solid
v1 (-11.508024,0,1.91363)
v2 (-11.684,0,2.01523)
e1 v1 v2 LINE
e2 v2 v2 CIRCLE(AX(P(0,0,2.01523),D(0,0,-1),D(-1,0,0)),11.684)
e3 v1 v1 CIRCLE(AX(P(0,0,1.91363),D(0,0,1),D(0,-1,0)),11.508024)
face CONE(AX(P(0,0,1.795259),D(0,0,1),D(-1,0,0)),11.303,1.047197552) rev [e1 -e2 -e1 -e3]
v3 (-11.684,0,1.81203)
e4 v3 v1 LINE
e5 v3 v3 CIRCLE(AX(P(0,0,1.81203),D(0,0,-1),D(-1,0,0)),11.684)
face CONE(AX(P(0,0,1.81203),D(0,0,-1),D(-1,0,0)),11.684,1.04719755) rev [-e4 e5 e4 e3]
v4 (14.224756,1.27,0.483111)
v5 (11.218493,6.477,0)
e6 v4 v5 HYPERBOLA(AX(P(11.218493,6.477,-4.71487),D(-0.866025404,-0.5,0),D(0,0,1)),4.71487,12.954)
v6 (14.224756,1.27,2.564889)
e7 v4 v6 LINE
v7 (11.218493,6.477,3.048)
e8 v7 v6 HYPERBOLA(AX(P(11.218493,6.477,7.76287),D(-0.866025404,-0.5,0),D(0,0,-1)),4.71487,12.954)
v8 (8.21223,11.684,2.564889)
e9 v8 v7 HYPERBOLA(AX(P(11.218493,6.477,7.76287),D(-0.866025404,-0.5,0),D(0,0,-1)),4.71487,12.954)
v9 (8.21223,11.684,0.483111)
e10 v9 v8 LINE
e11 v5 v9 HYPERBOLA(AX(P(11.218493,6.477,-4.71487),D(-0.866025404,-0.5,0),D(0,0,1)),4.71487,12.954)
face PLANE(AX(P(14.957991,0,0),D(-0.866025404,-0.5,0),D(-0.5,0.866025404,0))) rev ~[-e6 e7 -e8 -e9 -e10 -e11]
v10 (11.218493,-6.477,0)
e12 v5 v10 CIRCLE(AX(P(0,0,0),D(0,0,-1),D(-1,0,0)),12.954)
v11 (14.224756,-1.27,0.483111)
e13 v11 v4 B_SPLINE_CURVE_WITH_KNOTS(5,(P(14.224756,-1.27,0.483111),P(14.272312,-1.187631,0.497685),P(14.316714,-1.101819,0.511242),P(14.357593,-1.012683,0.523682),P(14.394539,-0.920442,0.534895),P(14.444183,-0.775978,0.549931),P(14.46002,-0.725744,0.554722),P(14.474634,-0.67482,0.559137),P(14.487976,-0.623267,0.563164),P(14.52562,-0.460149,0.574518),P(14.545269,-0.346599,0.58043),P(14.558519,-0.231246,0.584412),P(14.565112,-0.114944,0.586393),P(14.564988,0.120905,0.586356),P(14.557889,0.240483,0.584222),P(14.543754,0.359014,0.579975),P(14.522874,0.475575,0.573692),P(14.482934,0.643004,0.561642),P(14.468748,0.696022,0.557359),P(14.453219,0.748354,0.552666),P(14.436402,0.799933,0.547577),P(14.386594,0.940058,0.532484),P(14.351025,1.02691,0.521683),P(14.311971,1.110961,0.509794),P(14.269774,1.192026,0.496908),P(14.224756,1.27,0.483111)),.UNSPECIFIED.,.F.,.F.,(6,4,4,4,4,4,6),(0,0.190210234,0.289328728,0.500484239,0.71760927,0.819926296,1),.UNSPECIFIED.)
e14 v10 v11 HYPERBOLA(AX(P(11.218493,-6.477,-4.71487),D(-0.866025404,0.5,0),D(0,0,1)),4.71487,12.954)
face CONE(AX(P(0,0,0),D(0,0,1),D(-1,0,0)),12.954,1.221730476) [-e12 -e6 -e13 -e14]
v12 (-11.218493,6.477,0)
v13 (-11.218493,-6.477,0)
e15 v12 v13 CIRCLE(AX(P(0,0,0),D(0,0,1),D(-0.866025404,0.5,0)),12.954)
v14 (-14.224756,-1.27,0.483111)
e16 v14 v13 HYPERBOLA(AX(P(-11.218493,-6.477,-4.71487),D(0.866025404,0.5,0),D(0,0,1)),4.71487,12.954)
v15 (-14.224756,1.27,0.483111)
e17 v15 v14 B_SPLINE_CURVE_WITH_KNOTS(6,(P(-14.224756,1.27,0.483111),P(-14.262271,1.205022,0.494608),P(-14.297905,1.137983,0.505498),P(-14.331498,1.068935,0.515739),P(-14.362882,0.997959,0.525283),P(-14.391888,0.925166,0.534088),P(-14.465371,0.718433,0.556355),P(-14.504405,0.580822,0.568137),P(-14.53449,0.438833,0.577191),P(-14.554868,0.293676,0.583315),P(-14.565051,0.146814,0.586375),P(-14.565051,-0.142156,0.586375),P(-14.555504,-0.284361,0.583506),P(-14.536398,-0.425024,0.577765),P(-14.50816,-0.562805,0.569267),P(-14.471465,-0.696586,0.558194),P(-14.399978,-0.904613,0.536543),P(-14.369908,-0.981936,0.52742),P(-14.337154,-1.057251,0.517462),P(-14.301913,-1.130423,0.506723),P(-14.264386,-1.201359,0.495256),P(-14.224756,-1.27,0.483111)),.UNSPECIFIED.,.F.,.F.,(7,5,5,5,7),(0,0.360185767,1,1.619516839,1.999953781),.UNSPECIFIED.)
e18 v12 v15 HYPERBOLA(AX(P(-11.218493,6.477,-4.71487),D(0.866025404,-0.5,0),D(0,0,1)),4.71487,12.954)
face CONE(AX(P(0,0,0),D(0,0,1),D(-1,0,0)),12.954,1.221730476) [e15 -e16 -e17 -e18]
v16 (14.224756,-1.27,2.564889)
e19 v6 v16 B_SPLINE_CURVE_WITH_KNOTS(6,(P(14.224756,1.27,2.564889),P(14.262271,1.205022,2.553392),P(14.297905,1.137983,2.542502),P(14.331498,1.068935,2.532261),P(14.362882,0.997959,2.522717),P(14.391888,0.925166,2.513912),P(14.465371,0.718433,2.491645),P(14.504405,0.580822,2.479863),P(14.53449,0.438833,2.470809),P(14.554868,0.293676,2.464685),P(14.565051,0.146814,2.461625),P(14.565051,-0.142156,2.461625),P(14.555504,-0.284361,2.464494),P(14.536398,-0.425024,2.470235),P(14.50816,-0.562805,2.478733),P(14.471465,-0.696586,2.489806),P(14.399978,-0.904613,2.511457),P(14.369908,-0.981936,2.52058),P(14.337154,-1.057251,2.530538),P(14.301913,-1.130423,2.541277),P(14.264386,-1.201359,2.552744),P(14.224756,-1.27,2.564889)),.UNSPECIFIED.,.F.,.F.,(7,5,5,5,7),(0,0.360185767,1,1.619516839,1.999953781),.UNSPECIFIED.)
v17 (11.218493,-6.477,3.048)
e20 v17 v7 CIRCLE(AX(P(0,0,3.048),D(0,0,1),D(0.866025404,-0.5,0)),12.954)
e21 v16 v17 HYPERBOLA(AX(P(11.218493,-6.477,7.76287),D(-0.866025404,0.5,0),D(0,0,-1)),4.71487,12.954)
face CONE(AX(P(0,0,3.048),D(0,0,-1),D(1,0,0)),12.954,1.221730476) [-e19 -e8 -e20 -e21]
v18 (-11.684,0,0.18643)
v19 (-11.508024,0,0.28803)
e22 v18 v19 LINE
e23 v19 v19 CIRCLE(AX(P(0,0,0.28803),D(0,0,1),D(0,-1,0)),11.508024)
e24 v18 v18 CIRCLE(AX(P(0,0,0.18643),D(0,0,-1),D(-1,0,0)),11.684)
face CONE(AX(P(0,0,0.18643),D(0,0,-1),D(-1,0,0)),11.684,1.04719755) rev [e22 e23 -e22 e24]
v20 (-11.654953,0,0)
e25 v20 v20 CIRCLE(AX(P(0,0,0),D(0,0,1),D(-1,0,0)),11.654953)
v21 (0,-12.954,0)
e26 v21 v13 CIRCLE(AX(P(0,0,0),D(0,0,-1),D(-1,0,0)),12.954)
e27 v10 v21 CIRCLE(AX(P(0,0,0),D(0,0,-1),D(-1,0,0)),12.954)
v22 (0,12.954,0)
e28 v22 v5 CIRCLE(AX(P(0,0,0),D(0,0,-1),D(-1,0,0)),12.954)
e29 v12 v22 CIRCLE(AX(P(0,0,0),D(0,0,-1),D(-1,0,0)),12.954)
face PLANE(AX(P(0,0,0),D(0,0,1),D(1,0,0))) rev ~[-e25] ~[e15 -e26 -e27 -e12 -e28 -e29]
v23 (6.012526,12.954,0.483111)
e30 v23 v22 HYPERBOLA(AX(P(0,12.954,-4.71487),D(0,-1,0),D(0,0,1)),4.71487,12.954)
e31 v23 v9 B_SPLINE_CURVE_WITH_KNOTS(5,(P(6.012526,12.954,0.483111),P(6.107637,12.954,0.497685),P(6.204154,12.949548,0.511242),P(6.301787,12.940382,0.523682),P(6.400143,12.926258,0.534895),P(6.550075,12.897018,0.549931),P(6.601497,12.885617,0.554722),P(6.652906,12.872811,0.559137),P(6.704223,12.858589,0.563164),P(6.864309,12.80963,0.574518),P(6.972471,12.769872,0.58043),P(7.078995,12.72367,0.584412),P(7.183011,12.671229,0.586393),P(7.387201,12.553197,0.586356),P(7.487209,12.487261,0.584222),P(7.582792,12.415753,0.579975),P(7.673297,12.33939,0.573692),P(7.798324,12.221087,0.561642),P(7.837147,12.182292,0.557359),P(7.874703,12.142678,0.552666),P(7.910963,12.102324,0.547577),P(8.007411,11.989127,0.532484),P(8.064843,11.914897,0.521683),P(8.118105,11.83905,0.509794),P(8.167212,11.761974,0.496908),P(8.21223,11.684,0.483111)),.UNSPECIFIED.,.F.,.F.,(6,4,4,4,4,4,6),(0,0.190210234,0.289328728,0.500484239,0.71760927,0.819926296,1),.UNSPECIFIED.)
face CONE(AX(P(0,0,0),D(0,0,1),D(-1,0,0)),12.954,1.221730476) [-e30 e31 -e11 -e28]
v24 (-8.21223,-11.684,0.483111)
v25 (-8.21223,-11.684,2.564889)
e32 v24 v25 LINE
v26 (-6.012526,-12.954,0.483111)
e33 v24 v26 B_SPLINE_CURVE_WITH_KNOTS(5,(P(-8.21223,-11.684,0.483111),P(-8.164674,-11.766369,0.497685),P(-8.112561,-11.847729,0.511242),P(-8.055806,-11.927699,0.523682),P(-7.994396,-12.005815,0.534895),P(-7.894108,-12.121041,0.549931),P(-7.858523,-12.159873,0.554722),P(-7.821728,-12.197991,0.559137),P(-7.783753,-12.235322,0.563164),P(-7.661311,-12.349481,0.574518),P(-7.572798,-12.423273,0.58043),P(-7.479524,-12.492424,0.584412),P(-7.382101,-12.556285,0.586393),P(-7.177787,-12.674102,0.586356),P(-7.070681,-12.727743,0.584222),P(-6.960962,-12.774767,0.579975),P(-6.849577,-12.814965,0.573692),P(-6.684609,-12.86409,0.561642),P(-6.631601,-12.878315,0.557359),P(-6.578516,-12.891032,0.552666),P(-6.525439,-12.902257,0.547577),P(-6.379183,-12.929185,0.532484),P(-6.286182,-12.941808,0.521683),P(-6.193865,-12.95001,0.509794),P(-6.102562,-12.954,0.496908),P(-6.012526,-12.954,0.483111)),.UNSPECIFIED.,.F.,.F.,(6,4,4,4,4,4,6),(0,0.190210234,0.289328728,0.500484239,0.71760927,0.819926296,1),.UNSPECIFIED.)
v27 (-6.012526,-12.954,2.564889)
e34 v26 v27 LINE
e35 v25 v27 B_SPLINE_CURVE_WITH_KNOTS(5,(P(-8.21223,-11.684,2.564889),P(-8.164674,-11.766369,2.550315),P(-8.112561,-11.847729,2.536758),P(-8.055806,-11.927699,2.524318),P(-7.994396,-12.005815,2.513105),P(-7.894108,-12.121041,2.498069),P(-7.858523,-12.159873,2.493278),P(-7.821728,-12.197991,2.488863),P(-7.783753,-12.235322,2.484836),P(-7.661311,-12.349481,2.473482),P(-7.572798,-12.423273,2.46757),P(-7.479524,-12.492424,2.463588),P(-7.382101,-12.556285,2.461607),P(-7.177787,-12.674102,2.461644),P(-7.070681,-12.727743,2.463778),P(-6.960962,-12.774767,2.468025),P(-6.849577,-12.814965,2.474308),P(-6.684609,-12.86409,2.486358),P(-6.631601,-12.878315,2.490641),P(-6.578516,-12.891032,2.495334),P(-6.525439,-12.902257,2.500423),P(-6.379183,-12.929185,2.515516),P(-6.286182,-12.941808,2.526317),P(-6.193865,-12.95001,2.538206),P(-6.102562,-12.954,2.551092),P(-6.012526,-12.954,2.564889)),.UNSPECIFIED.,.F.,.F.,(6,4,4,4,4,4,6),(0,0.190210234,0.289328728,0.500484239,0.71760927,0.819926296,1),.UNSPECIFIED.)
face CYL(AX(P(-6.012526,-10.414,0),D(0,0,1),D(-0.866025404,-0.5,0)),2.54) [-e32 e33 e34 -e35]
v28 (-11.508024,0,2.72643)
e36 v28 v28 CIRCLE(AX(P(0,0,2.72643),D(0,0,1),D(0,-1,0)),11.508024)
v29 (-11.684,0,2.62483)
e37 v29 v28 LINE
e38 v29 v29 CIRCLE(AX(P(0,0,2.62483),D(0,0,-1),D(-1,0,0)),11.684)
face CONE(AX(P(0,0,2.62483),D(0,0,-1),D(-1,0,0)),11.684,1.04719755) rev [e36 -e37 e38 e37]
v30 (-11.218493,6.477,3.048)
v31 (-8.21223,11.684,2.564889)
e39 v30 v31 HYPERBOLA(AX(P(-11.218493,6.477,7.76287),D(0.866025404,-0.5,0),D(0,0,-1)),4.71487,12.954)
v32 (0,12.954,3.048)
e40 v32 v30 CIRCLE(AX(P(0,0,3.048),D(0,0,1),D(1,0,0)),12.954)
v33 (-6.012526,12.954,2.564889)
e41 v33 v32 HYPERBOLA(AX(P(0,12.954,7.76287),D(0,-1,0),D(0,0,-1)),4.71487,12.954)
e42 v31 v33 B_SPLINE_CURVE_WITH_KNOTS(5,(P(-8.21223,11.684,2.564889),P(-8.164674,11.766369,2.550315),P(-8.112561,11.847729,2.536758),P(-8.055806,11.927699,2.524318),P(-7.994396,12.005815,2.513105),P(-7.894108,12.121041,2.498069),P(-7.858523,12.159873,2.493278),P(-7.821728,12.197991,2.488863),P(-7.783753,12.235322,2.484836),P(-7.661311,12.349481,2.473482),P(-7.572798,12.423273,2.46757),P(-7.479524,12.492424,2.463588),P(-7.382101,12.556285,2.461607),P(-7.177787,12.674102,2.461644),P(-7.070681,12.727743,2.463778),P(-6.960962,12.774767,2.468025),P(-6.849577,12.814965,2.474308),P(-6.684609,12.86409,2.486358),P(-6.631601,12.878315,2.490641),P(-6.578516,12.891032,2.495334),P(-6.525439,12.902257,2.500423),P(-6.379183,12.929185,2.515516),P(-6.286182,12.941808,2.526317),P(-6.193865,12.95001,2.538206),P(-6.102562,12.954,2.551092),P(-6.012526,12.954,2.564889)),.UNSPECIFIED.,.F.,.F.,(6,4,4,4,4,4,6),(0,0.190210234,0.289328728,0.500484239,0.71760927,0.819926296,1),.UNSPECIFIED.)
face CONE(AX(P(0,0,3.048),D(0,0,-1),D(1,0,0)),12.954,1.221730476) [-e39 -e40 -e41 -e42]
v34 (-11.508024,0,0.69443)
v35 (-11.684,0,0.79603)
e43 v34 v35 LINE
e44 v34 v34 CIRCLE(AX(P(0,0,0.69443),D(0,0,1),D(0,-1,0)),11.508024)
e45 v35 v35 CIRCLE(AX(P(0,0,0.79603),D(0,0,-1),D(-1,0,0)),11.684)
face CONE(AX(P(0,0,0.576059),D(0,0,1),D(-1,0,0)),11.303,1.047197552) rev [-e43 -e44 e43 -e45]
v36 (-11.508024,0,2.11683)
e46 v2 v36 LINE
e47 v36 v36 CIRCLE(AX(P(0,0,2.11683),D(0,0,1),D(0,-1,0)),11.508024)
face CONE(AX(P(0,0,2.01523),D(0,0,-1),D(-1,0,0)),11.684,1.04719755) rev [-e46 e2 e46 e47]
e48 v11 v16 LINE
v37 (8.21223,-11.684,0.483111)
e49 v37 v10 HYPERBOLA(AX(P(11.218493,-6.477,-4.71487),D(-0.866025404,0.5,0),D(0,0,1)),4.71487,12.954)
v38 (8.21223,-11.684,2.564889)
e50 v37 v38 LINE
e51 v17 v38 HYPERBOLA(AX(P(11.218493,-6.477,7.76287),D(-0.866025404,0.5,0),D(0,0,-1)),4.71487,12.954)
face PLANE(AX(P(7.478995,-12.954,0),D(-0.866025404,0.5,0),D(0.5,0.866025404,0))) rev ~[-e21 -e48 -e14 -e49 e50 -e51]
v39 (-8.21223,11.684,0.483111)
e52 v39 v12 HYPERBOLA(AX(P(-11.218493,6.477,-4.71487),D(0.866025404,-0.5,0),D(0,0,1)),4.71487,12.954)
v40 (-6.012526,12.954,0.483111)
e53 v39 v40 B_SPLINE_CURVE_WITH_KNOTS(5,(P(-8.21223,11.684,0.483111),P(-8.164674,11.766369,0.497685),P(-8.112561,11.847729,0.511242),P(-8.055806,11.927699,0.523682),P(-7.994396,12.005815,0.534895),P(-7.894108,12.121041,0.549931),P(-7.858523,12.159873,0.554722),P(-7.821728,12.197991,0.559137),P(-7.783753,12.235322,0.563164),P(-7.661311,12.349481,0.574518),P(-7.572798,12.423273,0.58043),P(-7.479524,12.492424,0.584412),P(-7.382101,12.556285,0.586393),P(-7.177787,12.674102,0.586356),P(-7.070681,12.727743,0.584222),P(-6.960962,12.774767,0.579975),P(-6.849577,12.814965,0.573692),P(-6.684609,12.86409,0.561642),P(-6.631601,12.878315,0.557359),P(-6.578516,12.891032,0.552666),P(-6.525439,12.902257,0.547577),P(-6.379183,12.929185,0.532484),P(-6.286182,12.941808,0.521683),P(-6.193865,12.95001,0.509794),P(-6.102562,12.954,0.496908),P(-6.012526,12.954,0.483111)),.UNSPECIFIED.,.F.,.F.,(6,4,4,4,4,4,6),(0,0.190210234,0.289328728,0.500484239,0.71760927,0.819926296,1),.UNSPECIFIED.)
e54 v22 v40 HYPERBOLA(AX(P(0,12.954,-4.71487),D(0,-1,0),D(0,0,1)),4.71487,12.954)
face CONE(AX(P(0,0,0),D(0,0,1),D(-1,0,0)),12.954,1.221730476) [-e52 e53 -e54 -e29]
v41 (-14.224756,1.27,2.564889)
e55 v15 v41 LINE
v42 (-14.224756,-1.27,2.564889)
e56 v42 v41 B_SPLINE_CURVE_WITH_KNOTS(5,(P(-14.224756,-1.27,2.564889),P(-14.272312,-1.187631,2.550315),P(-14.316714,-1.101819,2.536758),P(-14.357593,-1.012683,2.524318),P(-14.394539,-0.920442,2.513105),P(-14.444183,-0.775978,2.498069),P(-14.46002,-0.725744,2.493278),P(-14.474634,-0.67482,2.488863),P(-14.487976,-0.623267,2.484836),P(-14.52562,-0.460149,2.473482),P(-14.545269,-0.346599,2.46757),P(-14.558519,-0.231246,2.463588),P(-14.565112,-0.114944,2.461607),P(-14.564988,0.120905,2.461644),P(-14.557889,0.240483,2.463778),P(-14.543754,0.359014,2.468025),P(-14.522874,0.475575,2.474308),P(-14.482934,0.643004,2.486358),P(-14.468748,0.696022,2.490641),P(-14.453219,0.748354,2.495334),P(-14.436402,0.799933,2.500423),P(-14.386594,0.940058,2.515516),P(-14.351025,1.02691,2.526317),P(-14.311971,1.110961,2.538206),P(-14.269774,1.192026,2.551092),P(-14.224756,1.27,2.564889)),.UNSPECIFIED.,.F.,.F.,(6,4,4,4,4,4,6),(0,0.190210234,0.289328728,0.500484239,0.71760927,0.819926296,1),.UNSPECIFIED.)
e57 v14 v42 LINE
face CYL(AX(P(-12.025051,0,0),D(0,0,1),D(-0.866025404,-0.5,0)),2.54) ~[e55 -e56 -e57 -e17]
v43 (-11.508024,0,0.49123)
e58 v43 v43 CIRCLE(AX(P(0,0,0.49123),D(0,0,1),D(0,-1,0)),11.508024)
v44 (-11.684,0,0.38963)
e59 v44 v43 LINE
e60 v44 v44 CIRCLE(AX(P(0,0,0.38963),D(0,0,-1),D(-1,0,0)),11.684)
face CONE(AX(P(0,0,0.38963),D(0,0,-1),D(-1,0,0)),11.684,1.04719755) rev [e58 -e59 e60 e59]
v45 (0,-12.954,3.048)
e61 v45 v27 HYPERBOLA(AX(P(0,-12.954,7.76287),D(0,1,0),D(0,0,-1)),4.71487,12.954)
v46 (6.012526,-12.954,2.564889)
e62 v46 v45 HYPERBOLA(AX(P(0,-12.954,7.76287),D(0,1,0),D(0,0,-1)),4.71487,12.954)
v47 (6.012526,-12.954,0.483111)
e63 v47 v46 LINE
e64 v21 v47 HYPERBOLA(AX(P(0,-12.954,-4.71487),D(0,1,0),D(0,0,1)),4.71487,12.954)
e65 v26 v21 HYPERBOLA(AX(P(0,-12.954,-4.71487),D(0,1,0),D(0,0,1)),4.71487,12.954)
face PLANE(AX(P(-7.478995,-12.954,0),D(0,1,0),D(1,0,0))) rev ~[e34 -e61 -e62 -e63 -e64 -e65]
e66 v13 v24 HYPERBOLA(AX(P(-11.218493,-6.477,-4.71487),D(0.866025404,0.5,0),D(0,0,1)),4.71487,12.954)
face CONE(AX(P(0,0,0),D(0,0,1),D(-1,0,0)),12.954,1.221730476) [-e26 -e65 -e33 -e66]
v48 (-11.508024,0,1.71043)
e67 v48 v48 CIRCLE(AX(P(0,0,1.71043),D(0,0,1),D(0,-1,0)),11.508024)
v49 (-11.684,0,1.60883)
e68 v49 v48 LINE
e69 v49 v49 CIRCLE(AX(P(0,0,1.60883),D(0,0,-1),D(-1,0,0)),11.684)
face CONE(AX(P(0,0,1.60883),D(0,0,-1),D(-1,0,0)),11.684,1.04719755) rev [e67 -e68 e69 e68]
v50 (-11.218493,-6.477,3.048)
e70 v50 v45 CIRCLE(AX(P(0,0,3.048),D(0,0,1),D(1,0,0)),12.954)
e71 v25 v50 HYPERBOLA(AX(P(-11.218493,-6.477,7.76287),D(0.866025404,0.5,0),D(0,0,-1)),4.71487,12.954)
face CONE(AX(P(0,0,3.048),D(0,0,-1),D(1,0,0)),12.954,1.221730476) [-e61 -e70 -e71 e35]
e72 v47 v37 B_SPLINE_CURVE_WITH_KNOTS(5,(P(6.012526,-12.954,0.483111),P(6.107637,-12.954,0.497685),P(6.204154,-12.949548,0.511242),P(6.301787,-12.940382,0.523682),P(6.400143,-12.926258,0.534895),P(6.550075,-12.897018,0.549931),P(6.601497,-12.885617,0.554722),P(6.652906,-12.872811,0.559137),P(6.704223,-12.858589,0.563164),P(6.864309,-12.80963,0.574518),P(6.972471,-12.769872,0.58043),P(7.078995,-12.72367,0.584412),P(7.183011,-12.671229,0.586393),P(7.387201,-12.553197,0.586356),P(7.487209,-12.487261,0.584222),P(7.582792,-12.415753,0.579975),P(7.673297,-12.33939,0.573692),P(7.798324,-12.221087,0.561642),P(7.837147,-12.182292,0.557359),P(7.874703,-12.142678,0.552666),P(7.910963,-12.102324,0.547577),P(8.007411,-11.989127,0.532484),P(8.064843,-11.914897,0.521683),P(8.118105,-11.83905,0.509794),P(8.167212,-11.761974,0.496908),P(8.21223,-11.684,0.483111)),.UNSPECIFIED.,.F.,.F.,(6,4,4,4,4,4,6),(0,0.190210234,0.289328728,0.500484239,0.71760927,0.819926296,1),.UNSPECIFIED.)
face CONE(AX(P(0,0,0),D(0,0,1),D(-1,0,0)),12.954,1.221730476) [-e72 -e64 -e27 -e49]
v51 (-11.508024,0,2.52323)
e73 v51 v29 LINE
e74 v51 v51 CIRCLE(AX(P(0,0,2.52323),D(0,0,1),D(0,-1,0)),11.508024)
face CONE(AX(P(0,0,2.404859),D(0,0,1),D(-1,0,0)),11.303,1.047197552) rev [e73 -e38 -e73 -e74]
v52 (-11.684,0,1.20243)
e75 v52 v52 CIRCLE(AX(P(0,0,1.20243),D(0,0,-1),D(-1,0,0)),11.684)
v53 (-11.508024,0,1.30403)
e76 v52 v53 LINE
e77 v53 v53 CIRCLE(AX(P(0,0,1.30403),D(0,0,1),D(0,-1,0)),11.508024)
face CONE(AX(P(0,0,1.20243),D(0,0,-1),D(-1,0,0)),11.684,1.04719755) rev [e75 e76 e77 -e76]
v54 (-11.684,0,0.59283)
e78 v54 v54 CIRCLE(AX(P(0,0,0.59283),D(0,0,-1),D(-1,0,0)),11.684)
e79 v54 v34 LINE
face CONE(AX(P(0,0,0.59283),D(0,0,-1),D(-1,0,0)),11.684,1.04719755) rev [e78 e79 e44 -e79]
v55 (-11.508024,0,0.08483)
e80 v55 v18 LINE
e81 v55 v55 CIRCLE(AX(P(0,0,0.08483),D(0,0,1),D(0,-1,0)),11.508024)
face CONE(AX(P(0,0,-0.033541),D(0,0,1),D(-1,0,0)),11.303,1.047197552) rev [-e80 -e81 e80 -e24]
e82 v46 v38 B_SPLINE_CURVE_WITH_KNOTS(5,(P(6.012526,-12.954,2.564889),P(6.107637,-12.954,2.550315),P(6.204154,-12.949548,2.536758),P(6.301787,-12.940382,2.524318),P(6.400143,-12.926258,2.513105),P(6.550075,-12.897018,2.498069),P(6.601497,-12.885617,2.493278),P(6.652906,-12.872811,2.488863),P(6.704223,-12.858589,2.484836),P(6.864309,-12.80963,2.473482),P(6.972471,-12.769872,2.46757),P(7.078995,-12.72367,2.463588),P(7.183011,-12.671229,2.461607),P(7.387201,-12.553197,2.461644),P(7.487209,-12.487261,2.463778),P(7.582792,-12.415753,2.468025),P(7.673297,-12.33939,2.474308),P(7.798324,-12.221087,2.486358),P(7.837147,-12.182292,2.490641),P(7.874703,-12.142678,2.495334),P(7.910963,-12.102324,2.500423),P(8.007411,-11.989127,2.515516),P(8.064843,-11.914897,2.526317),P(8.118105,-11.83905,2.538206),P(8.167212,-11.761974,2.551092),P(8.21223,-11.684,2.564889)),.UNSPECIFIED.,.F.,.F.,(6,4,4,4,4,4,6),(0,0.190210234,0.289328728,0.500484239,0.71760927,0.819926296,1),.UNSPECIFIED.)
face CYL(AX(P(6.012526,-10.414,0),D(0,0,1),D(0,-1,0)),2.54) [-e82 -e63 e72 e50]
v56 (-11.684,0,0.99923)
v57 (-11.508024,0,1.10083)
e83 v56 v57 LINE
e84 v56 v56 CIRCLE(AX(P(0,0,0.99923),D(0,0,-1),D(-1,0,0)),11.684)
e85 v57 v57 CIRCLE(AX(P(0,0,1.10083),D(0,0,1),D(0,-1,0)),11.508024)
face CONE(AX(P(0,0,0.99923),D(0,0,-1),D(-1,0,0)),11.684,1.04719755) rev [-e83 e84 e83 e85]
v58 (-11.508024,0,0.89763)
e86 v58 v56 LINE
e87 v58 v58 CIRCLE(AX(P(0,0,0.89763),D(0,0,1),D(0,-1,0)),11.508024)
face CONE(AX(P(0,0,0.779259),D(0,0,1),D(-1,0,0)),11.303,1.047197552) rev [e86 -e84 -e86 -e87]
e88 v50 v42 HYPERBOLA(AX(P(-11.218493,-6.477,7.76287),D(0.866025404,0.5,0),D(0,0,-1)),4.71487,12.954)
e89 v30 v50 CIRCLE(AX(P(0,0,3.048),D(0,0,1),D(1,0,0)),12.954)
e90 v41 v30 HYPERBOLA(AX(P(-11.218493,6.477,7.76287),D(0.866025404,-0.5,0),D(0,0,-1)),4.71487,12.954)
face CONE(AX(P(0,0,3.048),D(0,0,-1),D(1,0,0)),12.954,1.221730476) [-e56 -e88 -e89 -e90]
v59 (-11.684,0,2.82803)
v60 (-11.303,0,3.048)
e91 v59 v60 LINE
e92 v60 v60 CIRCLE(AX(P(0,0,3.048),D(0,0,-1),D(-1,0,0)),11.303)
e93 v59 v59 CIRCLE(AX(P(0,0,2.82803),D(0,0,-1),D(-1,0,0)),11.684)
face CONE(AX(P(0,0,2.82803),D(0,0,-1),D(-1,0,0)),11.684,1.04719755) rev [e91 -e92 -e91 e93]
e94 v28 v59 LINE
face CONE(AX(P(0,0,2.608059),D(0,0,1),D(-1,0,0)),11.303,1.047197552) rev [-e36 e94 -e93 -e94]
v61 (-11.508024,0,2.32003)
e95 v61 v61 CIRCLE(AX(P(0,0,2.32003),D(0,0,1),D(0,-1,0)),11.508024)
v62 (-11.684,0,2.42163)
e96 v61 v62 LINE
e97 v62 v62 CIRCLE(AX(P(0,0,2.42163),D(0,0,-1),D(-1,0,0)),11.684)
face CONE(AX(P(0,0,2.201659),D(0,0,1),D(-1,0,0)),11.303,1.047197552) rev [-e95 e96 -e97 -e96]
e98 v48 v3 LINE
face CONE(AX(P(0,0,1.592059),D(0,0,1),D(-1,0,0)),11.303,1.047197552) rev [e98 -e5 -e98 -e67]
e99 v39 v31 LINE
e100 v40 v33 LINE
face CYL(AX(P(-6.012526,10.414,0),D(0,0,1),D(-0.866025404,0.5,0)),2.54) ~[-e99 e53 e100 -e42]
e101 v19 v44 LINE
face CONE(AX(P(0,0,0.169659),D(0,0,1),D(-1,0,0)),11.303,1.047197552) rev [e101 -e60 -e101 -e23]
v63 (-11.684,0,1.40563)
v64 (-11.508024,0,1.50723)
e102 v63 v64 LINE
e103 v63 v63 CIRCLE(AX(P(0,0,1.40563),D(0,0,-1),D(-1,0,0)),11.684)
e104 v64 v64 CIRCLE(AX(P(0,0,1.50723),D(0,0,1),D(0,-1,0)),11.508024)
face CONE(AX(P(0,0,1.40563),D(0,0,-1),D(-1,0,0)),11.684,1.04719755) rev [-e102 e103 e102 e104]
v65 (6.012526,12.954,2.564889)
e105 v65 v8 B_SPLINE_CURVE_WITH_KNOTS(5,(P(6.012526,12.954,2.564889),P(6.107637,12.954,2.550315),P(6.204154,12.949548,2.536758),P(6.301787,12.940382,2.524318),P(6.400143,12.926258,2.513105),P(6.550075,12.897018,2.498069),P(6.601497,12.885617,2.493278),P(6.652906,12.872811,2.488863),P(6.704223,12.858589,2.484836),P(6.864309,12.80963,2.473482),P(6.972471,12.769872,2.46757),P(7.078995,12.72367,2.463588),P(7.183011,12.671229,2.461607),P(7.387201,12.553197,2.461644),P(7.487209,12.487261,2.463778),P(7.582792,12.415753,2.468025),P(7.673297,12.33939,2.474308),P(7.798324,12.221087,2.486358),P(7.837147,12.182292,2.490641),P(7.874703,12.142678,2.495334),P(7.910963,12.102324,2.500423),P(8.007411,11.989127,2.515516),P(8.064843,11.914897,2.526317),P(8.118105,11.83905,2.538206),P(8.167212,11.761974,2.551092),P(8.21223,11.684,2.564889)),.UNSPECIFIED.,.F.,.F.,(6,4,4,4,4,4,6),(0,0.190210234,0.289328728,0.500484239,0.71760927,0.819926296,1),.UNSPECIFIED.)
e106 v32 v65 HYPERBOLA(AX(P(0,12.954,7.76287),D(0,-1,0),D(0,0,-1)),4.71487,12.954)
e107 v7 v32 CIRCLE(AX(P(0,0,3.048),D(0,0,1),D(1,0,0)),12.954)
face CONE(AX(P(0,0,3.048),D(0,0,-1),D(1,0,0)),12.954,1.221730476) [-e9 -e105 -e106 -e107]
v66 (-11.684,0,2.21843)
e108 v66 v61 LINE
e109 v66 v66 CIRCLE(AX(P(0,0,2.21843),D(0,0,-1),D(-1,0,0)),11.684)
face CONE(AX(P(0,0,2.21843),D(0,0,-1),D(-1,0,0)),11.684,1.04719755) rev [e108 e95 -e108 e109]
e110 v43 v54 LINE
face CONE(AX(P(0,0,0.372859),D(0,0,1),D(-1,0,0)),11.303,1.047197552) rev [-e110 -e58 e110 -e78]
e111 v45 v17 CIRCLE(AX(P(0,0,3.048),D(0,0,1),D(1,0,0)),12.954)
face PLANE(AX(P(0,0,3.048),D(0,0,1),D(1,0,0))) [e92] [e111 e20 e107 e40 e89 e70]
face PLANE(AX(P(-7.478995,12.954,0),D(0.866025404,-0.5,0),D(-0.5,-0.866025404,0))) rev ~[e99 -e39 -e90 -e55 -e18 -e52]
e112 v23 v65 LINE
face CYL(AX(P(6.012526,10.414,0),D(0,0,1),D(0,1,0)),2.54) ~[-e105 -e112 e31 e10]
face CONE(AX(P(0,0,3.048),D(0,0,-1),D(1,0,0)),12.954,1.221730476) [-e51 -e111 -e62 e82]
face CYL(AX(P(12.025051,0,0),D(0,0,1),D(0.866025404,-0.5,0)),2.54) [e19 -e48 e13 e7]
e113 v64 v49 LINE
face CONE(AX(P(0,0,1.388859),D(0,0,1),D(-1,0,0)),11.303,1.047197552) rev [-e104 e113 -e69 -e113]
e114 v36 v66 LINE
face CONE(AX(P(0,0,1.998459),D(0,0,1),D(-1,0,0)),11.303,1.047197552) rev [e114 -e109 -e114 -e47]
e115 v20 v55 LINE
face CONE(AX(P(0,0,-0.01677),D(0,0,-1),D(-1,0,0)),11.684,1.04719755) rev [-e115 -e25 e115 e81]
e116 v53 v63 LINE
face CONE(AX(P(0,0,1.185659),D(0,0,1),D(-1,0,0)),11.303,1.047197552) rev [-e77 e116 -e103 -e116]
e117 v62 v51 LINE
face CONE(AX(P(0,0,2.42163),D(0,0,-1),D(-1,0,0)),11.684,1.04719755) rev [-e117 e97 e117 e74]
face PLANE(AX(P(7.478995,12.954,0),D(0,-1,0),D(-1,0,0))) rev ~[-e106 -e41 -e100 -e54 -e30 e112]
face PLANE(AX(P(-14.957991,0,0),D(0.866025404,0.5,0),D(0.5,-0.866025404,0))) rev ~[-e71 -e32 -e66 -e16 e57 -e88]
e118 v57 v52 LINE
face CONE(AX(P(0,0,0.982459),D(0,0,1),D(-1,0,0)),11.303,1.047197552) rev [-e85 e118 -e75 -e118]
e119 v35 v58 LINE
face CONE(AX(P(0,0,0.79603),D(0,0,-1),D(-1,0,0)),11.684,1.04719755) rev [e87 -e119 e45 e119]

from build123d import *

# Parameters (mm, degrees)
SKETCH1_R          = 11.303
EXTRUDE1_DEPTH     = 3.048
FILLET1_R          = 2.54
SKETCH2_OUTSIDE_W  = 61.194
SKETCH2_OUTSIDE_H  = 57.972
SKETCH2_OUTSIDE_R  = 12.954
CUT_EXTRUDE1_DEPTH = 4.048
CUT_EXTRUDE1_DRAFT = -70
SKETCH3_OUTSIDE_W  = 61.194
SKETCH3_OUTSIDE_H  = 57.972
SKETCH3_OUTSIDE_R  = 12.954
CUT_EXTRUDE2_DEPTH = 4.0480001
CUT_EXTRUDE2_DRAFT = -70
LPATTERN1_COUNT    = 15
LPATTERN1_PITCH    = 0.2032


with BuildPart() as part:
    # Sketch1 → Extrude1 (new body)
    with BuildSketch(Plane.XY):
        Polygon((-14.957990774, 0), (-7.478995387, -12.954), (7.478995387, -12.954), (14.957990774, 0), (7.478995387, 12.954), (-7.478995387, 12.954), align=None)
        Circle(SKETCH1_R, mode=Mode.SUBTRACT)
    extrude(amount=EXTRUDE1_DEPTH)

    # Fillet1
    fillet1_edges = [part.edges().sort_by_distance(p)[0] for p in [
        (14.957990774, 0, 1.524),
        (7.478995387, -12.954, 1.524),
        (-7.478995387, -12.954, 1.524),
        (-14.957990774, 0, 1.524),
        (-7.478995387, 12.954, 1.524),
        (7.478995387, 12.954, 1.524),
    ]]
    fillet(fillet1_edges, radius=FILLET1_R)


with BuildPart() as cut_extrude1_tool:
    # Sketch2 outside → Cut-Extrude1 (with draft: the straight prism first)
    with BuildSketch(Plane.XY.offset(3.048)):
        Rectangle(SKETCH2_OUTSIDE_W, SKETCH2_OUTSIDE_H)
        Circle(SKETCH2_OUTSIDE_R, mode=Mode.SUBTRACT)
    extrude(amount=-CUT_EXTRUDE1_DEPTH)
    # Cut-Extrude1: the draft: its side faces are tilted about the plane it starts from
    cut_extrude1_sides = [cut_extrude1_tool.faces().sort_by_distance(p)[0] for p in [
        (0, -28.986, 1.024),
        (30.597, 0, 1.024),
        (0, 28.986, 1.024),
        (-30.597, 0, 1.024),
        (-12.954, 0, 1.024),
    ]]
    draft(cut_extrude1_sides, Plane.XY.offset(3.048), CUT_EXTRUDE1_DRAFT)


with BuildPart() as part_1:
    add(part.part)

    # Cut-Extrude1: cut by cut_extrude1_tool
    add(cut_extrude1_tool.part, mode=Mode.SUBTRACT)


with BuildPart() as cut_extrude2_tool:
    # Sketch3 outside → Cut-Extrude2 (with draft: the straight prism first)
    with BuildSketch(Plane(origin=(0, 0, 0), x_dir=(-1, 0, 0), z_dir=(0, 0, -1))):
        Rectangle(SKETCH3_OUTSIDE_W, SKETCH3_OUTSIDE_H)
        Circle(SKETCH3_OUTSIDE_R, mode=Mode.SUBTRACT)
    extrude(amount=-CUT_EXTRUDE2_DEPTH)
    # Cut-Extrude2: the draft: its side faces are tilted about the plane it starts from
    cut_extrude2_sides = [cut_extrude2_tool.faces().sort_by_distance(p)[0] for p in [
        (0, -28.986, 2.02400005),
        (-30.597, 0, 2.02400005),
        (0, 28.986, 2.02400005),
        (30.597, 0, 2.02400005),
        (12.954, 0, 2.02400005),
    ]]
    draft(cut_extrude2_sides, Plane(origin=(0, 0, 0), x_dir=(-1, 0, 0), z_dir=(0, 0, -1)), CUT_EXTRUDE2_DRAFT)


with BuildPart() as part_2:
    add(part_1.part)

    # Cut-Extrude2: cut by cut_extrude2_tool
    add(cut_extrude2_tool.part, mode=Mode.SUBTRACT)

    # Sketch4 → Cut-Revolve1 (revolve, cut)
    with BuildSketch(Plane(origin=(0, 0, 0), x_dir=(1, 0, 0), z_dir=(0, 1, 0))):
        Polygon((-11.303, -3.048), (-11.303, -2.608059095), (-11.684, -2.828029547), align=None)
    cut_revolve1 = revolve(axis=Axis((0, 0, 3.048), (0, 0, -1)), mode=Mode.SUBTRACT)

    # LPattern1: Cut-Revolve1 ×15
    with Locations(*[(0, 0, -i * LPATTERN1_PITCH) for i in range(1, LPATTERN1_COUNT)]):
        add(cut_revolve1, mode=Mode.SUBTRACT)


solid = part_2.part
